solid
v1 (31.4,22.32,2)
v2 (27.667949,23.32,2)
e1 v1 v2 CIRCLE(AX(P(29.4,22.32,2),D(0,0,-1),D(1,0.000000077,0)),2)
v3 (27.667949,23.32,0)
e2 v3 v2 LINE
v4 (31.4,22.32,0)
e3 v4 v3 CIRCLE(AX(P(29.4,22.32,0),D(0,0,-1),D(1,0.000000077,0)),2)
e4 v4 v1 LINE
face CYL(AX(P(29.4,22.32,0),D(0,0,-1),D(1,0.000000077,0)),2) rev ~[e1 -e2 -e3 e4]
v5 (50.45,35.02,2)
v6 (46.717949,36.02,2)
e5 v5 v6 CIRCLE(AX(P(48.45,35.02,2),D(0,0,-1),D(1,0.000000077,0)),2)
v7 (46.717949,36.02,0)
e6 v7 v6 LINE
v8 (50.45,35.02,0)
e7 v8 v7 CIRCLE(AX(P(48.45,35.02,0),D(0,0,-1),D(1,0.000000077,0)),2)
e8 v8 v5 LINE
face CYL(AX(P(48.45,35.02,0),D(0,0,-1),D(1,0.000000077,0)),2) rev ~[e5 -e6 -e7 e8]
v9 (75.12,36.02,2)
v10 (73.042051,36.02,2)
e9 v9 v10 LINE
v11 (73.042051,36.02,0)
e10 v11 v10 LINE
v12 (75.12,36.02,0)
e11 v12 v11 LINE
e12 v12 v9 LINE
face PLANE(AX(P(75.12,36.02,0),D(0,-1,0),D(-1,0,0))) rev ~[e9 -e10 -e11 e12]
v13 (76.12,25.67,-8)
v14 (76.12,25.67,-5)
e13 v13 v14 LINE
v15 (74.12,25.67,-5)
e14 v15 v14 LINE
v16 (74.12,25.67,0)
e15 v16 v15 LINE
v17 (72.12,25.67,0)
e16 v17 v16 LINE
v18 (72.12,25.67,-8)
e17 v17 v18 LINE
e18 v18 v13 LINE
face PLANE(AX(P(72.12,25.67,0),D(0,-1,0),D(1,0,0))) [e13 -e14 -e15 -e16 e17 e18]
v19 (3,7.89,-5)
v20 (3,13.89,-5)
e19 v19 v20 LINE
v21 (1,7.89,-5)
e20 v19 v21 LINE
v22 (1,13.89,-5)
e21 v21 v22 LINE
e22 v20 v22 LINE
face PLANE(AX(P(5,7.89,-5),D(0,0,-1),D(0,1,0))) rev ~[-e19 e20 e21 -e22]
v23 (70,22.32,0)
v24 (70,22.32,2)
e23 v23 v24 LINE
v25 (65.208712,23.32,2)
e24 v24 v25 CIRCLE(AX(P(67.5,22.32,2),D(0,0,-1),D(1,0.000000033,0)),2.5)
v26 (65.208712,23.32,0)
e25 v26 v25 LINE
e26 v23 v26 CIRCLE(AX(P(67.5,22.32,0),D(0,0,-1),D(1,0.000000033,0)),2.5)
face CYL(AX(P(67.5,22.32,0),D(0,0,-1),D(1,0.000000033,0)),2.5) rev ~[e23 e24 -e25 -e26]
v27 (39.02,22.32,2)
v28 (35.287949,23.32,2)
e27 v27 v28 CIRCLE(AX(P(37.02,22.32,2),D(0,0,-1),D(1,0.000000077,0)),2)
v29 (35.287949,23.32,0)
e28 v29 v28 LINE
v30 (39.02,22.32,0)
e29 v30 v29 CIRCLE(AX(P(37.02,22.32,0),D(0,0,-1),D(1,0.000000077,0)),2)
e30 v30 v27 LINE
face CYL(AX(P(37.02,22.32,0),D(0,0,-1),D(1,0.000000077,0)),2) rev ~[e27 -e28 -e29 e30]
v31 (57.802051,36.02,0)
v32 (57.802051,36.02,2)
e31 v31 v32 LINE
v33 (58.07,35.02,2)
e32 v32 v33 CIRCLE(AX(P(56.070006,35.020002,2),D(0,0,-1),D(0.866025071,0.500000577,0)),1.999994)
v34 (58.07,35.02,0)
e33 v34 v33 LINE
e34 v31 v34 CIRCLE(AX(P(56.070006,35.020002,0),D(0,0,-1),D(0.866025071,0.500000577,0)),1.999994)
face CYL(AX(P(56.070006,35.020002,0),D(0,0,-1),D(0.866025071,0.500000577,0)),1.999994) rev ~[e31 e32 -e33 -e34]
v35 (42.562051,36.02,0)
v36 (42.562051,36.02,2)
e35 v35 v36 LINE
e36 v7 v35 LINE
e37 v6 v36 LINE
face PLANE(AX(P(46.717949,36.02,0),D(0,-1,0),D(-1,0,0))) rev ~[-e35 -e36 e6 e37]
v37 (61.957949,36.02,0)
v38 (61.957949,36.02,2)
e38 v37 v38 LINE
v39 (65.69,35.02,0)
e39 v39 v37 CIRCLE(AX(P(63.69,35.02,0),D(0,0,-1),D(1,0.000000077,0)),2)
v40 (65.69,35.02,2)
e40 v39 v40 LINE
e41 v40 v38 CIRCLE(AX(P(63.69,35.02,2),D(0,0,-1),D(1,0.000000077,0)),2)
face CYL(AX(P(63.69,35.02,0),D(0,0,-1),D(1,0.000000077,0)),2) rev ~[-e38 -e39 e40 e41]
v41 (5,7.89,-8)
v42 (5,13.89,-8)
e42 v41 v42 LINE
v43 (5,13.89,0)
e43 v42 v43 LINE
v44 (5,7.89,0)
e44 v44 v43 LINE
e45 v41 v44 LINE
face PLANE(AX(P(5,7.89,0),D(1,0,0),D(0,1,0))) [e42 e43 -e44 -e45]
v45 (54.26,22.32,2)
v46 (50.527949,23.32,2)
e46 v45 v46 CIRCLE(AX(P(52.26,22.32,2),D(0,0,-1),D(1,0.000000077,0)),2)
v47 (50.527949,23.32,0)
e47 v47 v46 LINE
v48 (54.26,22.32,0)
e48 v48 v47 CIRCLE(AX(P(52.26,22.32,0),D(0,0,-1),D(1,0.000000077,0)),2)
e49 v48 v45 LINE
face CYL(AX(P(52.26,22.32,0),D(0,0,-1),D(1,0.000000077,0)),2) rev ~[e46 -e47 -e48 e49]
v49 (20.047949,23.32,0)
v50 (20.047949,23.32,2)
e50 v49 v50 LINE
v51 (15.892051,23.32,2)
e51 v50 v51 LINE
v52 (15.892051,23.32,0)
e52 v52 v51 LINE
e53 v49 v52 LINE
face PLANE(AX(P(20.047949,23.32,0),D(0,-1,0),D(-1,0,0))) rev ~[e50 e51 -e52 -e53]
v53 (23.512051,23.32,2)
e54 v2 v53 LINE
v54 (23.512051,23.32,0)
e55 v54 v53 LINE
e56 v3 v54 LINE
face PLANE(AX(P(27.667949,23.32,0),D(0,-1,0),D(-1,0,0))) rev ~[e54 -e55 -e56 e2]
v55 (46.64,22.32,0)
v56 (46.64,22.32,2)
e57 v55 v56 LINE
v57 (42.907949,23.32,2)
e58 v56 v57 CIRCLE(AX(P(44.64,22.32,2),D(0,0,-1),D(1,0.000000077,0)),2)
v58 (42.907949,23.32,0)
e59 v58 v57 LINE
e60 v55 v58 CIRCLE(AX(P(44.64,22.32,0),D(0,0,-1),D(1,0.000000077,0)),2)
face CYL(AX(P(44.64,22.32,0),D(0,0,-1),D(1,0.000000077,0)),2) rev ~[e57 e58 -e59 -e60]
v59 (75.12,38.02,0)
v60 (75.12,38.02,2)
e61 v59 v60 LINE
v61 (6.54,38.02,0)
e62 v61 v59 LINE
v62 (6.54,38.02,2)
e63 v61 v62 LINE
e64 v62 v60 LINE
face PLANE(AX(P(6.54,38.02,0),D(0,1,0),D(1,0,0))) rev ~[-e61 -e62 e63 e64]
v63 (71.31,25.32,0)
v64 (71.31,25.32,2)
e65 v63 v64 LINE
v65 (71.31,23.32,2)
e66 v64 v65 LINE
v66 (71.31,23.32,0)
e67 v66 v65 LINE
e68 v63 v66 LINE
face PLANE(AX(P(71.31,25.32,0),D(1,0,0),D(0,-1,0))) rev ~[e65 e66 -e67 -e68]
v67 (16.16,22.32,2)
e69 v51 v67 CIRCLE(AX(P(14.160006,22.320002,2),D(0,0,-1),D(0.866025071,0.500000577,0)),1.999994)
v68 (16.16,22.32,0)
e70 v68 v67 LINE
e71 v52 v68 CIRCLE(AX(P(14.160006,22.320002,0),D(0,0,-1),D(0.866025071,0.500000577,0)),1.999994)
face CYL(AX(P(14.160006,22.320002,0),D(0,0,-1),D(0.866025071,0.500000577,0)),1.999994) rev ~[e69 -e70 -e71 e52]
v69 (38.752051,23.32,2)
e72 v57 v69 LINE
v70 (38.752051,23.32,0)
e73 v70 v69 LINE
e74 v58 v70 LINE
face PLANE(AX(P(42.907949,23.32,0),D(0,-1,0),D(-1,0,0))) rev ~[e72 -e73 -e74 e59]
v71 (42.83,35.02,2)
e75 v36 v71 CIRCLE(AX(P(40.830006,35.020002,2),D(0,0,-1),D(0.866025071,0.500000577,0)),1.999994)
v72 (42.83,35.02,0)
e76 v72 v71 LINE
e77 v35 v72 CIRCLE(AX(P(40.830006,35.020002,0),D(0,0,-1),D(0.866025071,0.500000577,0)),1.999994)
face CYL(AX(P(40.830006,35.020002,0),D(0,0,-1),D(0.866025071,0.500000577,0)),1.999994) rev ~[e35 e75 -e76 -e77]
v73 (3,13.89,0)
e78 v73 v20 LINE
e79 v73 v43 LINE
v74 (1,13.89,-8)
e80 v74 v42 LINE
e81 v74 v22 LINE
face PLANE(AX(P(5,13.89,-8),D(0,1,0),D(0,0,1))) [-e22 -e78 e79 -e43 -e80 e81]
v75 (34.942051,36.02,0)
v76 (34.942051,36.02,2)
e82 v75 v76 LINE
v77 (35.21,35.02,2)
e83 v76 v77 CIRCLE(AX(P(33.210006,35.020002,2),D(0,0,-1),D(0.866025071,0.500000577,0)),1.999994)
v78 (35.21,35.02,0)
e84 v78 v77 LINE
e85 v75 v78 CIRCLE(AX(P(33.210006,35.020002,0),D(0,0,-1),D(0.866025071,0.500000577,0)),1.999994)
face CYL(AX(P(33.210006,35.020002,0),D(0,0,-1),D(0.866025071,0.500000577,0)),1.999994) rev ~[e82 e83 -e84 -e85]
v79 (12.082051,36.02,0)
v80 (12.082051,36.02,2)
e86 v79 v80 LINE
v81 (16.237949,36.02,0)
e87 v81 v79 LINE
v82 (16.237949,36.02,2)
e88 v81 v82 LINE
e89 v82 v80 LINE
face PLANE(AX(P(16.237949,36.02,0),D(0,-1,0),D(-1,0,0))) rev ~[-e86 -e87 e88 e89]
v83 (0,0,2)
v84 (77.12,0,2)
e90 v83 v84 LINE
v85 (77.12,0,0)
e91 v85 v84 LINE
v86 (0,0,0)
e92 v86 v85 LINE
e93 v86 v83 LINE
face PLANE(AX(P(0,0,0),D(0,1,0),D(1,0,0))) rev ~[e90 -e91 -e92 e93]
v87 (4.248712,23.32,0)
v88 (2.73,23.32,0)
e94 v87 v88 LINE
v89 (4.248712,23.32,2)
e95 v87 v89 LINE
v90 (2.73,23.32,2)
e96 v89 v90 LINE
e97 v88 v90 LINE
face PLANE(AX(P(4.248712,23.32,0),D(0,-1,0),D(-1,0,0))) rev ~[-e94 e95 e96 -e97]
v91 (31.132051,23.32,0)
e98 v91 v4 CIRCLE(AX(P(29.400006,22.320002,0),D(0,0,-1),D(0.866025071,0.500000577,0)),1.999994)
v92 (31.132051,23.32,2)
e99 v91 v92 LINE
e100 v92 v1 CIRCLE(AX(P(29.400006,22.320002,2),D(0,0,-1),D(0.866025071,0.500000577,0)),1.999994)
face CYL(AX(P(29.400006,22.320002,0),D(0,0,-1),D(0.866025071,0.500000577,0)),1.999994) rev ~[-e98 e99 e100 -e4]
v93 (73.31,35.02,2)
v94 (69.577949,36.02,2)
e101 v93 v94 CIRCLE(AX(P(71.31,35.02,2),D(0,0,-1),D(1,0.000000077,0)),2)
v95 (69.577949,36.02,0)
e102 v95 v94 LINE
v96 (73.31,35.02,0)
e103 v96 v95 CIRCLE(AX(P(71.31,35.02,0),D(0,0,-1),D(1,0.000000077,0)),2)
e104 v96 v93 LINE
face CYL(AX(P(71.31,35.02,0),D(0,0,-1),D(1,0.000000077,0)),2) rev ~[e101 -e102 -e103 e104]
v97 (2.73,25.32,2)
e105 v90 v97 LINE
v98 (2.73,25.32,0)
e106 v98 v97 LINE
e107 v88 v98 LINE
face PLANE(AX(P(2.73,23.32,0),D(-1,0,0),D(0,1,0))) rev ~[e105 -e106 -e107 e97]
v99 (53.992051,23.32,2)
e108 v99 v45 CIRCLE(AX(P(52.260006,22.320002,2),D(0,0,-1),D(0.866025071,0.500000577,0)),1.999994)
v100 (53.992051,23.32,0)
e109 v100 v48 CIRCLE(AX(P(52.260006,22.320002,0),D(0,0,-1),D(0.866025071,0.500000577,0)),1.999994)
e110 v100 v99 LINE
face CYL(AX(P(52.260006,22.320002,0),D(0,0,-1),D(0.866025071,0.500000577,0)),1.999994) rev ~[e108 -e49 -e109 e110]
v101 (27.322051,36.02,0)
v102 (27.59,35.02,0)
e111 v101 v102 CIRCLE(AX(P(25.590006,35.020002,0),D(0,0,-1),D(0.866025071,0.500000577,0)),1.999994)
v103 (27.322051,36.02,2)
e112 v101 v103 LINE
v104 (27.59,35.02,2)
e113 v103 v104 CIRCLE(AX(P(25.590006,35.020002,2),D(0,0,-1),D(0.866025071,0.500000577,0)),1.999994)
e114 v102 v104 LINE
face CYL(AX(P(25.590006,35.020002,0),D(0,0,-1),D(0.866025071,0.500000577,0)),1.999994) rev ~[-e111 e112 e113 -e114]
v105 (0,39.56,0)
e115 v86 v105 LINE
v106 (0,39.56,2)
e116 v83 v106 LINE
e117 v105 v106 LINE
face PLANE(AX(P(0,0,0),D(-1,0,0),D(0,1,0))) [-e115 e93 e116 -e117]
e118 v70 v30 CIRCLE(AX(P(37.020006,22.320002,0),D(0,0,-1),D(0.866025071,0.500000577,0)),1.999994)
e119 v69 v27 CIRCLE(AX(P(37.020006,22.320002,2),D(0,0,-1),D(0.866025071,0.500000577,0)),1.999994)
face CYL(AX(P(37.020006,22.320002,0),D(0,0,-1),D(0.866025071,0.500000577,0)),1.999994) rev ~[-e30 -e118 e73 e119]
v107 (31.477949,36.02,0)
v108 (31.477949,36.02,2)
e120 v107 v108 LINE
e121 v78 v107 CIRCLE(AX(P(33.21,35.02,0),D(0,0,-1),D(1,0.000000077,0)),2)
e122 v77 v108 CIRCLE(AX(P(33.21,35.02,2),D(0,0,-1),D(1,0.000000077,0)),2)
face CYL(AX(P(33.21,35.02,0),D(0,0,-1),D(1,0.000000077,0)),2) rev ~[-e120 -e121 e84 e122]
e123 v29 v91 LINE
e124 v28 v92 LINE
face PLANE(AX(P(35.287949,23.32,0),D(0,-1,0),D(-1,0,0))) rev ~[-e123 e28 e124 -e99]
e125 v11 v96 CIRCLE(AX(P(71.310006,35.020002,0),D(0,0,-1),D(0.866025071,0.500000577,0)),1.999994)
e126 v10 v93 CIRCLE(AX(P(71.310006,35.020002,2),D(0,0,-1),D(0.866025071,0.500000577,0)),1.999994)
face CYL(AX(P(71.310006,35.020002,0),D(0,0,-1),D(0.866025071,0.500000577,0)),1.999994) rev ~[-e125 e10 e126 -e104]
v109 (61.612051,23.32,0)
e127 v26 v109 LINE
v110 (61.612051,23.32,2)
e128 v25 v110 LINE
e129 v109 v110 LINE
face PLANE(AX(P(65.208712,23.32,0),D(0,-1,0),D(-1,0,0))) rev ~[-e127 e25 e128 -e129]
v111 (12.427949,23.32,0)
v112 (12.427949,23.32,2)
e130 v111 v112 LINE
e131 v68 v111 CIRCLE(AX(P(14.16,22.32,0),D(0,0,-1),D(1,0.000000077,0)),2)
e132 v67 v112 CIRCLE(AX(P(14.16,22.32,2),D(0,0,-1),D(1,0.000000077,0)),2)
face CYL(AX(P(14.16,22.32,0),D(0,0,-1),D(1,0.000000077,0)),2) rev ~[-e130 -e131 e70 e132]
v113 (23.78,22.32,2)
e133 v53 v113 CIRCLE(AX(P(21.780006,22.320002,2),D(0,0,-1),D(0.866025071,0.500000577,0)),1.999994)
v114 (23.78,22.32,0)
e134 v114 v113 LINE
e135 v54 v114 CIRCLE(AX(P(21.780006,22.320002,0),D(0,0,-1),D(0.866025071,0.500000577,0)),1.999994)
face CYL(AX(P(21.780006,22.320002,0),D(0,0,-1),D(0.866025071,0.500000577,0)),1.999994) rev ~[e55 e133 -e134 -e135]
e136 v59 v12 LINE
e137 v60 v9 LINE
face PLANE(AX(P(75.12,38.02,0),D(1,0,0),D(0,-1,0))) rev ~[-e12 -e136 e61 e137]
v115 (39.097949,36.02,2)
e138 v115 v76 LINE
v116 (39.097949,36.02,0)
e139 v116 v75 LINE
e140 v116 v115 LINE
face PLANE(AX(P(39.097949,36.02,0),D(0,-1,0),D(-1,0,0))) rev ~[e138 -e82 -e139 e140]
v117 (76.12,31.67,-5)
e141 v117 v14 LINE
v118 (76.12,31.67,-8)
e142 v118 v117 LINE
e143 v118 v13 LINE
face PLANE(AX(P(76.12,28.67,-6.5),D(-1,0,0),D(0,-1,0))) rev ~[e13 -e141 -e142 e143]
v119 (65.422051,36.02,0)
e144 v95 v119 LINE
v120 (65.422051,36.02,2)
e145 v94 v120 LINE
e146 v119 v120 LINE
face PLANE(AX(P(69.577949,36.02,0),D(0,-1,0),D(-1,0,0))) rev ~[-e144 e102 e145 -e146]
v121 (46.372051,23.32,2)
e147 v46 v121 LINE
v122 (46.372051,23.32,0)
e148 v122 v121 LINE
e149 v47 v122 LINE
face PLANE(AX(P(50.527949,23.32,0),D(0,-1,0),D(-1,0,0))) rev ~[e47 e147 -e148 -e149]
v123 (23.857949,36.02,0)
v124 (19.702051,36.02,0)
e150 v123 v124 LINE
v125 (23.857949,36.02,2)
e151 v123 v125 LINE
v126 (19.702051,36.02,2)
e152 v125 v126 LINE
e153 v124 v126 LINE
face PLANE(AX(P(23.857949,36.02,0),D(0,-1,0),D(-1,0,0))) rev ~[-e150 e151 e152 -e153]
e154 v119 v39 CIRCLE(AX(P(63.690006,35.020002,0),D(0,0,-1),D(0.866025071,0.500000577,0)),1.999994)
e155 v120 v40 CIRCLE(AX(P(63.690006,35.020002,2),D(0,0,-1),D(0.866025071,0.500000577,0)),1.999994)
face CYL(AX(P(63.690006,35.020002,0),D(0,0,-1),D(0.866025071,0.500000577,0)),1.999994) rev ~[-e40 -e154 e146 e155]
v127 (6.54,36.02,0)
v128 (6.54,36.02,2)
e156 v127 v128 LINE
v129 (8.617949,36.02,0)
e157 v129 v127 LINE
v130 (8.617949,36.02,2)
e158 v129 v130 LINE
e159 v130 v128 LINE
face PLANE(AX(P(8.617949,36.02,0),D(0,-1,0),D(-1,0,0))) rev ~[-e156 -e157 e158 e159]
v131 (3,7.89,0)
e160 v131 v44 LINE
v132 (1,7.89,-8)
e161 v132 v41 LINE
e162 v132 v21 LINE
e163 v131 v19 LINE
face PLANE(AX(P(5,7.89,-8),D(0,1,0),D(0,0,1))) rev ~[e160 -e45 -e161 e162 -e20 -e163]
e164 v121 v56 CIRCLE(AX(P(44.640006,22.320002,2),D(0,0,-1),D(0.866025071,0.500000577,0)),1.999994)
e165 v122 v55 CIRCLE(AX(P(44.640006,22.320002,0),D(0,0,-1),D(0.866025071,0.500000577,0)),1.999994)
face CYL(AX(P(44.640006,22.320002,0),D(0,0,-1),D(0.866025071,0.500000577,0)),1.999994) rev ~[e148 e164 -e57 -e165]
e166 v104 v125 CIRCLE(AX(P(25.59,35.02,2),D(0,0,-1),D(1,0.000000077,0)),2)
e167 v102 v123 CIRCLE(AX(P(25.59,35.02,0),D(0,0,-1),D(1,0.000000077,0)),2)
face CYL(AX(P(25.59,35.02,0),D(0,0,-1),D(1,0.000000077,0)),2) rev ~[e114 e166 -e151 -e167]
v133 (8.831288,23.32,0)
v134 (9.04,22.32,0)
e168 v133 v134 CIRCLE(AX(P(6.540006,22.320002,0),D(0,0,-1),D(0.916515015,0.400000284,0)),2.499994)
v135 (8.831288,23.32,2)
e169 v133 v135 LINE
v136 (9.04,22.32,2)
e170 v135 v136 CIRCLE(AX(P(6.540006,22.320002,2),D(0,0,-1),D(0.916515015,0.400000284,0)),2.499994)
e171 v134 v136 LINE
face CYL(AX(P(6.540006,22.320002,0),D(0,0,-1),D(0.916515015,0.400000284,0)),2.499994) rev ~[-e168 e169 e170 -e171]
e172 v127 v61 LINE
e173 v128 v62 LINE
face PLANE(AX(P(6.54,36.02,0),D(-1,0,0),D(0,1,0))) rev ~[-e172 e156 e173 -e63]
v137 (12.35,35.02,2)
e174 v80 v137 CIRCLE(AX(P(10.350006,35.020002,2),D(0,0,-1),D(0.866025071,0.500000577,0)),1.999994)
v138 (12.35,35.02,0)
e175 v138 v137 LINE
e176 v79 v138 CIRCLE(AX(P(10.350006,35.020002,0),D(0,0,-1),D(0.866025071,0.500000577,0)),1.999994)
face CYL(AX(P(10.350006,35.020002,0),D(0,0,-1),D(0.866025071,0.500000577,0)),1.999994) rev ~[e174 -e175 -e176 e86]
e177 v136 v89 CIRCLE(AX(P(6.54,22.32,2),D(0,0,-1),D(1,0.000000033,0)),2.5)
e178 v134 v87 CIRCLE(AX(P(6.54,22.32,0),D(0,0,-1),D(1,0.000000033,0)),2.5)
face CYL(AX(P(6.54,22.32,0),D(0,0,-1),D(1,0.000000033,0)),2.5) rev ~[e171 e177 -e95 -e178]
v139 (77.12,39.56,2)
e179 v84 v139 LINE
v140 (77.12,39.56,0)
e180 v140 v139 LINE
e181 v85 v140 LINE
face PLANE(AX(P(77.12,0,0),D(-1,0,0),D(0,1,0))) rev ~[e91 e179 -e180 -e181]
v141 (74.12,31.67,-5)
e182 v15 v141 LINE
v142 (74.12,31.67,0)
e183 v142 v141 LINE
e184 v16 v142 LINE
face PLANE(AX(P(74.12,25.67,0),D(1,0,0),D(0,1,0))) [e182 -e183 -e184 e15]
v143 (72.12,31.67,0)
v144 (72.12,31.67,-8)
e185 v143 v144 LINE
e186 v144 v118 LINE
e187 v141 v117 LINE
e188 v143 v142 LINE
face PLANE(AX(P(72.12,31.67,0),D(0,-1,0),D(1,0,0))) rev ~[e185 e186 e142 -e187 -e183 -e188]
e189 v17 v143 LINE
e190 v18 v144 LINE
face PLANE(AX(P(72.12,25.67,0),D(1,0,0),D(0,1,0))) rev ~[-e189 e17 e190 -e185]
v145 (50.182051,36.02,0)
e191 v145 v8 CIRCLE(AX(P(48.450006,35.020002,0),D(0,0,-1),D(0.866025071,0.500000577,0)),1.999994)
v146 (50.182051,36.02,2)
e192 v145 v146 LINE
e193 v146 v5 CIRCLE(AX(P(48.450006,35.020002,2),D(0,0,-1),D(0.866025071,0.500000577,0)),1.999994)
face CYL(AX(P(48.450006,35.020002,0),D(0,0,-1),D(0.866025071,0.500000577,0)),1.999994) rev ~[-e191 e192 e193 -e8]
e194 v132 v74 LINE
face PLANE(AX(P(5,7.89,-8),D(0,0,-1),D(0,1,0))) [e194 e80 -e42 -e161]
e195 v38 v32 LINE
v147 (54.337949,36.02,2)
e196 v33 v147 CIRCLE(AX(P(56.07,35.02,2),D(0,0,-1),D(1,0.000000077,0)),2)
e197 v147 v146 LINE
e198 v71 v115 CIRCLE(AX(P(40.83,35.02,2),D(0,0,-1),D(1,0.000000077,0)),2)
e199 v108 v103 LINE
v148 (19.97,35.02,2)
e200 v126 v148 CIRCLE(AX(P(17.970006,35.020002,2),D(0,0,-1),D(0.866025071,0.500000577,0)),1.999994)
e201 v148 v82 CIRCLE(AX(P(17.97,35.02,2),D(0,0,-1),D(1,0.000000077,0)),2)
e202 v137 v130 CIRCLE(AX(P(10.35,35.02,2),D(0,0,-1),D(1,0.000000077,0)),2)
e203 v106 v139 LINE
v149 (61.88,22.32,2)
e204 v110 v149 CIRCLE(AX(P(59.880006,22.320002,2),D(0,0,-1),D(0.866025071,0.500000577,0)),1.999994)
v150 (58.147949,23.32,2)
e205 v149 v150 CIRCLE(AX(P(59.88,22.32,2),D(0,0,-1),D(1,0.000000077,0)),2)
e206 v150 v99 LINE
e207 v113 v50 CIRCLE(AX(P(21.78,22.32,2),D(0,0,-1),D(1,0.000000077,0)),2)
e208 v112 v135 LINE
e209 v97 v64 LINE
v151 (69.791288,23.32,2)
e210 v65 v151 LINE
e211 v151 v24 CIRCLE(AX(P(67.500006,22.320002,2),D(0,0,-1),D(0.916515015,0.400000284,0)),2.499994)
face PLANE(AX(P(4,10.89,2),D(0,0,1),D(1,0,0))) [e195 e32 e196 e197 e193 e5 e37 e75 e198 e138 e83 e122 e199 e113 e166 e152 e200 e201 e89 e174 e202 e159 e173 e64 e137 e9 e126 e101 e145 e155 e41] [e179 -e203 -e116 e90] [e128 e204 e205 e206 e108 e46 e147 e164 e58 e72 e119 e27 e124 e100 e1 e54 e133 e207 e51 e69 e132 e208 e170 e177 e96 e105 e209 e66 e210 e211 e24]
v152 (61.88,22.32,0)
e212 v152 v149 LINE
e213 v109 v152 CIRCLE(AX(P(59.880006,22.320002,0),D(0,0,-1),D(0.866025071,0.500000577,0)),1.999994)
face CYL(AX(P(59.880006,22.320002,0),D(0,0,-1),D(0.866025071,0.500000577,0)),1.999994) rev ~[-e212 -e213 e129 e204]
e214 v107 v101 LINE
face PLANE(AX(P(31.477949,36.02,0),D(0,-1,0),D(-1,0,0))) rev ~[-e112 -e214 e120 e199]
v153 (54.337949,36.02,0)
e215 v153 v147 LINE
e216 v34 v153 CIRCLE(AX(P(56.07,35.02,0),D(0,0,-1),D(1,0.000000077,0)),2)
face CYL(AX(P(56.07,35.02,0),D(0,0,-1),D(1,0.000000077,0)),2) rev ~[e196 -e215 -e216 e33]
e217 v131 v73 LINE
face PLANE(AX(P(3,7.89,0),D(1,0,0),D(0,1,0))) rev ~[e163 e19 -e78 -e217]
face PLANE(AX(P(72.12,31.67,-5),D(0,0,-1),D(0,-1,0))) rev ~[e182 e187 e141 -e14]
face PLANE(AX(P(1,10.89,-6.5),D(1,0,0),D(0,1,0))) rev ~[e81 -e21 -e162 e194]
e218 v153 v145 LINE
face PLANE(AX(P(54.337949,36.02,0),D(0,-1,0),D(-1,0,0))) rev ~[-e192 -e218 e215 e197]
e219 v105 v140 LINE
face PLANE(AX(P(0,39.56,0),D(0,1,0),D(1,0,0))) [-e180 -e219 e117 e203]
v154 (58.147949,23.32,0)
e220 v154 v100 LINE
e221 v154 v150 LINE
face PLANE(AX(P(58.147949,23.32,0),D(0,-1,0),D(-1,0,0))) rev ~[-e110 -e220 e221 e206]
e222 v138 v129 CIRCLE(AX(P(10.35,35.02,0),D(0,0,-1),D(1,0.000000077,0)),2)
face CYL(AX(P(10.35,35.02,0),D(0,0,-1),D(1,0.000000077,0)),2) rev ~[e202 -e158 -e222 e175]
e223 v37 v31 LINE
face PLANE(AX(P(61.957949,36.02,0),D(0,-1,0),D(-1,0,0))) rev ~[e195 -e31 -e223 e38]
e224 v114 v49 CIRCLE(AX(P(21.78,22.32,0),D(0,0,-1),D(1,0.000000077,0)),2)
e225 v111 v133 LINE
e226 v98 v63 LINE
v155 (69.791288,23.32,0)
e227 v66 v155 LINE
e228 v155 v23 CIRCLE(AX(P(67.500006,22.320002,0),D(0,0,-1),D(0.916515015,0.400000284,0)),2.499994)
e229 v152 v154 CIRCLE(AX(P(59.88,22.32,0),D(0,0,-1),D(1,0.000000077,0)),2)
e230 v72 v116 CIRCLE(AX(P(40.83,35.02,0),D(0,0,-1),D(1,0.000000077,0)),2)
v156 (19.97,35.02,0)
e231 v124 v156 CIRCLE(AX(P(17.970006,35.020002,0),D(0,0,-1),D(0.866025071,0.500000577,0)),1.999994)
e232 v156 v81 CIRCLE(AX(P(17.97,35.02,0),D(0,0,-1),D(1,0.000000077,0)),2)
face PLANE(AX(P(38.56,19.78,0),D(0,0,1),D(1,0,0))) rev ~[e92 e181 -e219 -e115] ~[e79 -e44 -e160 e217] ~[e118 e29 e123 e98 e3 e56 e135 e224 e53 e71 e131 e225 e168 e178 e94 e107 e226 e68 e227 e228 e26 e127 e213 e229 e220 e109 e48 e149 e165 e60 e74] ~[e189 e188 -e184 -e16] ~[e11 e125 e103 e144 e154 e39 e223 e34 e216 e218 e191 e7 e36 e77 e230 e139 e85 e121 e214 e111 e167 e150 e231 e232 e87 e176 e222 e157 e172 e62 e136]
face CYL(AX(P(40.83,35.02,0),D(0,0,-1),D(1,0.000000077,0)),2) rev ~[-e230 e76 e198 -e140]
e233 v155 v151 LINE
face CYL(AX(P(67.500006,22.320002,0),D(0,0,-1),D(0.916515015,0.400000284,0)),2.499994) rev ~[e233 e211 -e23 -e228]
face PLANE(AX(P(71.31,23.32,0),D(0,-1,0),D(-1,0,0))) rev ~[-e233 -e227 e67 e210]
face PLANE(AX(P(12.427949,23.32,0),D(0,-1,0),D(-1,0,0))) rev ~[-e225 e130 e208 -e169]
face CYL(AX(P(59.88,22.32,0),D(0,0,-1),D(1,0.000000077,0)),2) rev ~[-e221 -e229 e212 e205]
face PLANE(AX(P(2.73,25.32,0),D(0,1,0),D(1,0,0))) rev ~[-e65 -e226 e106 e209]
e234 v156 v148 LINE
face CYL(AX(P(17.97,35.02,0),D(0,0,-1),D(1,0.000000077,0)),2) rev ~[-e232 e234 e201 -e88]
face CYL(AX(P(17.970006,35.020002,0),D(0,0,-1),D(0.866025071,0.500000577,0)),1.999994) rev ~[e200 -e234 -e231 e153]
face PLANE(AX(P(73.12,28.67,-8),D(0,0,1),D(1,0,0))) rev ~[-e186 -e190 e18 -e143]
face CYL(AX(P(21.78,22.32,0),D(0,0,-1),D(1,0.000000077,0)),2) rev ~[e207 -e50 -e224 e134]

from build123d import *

# Parameters (mm, degrees)
F0_W          = 77.12
F0_H          = 39.56
F0_W_2        = 2
F0_H_2        = 6
F1_DEPTH      = 2
F2_DEPTH      = 8
F2_DEPTH_BACK = -2
F3_DEPTH      = 8
F3_DEPTH_BACK = -2
F4_W          = 6
F4_H          = 3
F5_DEPTH      = 4
F6_W          = 6
F6_H          = 3
F7_DEPTH      = 4


with BuildPart() as f1:
    # F0 (on Top) → F1 (new body)
    with BuildSketch(Plane.XY):
        with Locations((38.56, 19.78)):
            Rectangle(F0_W, F0_H)
        with Locations((4, 10.89)):
            Rectangle(F0_W_2, F0_H_2, mode=Mode.SUBTRACT)
        with BuildLine():
            ThreePointArc((15.892051, 23.32), (16.091852, 22.837638), (16.16, 22.32))
            ThreePointArc((16.16, 22.32), (13.642362, 20.388148), (12.427949, 23.32))
            Line((12.427949, 23.32), (8.831288, 23.32))
            ThreePointArc((8.831288, 23.32), (8.987266, 22.830774), (9.04, 22.32))
            ThreePointArc((9.04, 22.32), (6.029226, 19.872734), (4.248712, 23.32))
            Line((4.248712, 23.32), (2.73, 23.32))
            Line((2.73, 23.32), (2.73, 25.32))
            Line((2.73, 25.32), (71.31, 25.32))
            Line((71.31, 25.32), (71.31, 23.32))
            Line((71.31, 23.32), (69.791288, 23.32))
            ThreePointArc((69.791288, 23.32), (69.947266, 22.830774), (70, 22.32))
            ThreePointArc((70, 22.32), (66.989226, 19.872734), (65.208712, 23.32))
            Line((65.208712, 23.32), (61.612051, 23.32))
            ThreePointArc((61.612051, 23.32), (61.811852, 22.837638), (61.88, 22.32))
            ThreePointArc((61.88, 22.32), (59.362362, 20.388148), (58.147949, 23.32))
            Line((58.147949, 23.32), (53.992051, 23.32))
            ThreePointArc((53.992051, 23.32), (54.191852, 22.837638), (54.26, 22.32))
            ThreePointArc((54.26, 22.32), (51.742362, 20.388148), (50.527949, 23.32))
            Line((50.527949, 23.32), (46.372051, 23.32))
            ThreePointArc((46.372051, 23.32), (46.571852, 22.837638), (46.64, 22.32))
            ThreePointArc((46.64, 22.32), (44.122362, 20.388148), (42.907949, 23.32))
            Line((42.907949, 23.32), (38.752051, 23.32))
            ThreePointArc((38.752051, 23.32), (38.951852, 22.837638), (39.02, 22.32))
            ThreePointArc((39.02, 22.32), (36.502362, 20.388148), (35.287949, 23.32))
            Line((35.287949, 23.32), (31.132051, 23.32))
            ThreePointArc((31.132051, 23.32), (31.331852, 22.837638), (31.4, 22.32))
            ThreePointArc((31.4, 22.32), (28.882362, 20.388148), (27.667949, 23.32))
            Line((27.667949, 23.32), (23.512051, 23.32))
            ThreePointArc((23.512051, 23.32), (23.711852, 22.837638), (23.78, 22.32))
            ThreePointArc((23.78, 22.32), (21.262362, 20.388148), (20.047949, 23.32))
            Line((20.047949, 23.32), (15.892051, 23.32))
        make_face(mode=Mode.SUBTRACT)
        with Locations((73.12, 28.67)):
            Rectangle(F0_W_2, F0_H_2, mode=Mode.SUBTRACT)
        with BuildLine():
            ThreePointArc((12.082051, 36.02), (12.281852, 35.537638), (12.35, 35.02))
            ThreePointArc((12.35, 35.02), (9.832362, 33.088148), (8.617949, 36.02))
            Line((8.617949, 36.02), (6.54, 36.02))
            Line((6.54, 36.02), (6.54, 38.02))
            Line((6.54, 38.02), (75.12, 38.02))
            Line((75.12, 38.02), (75.12, 36.02))
            Line((75.12, 36.02), (73.042051, 36.02))
            ThreePointArc((73.042051, 36.02), (73.241852, 35.537638), (73.31, 35.02))
            ThreePointArc((73.31, 35.02), (70.792362, 33.088148), (69.577949, 36.02))
            Line((69.577949, 36.02), (65.422051, 36.02))
            ThreePointArc((65.422051, 36.02), (65.621852, 35.537638), (65.69, 35.02))
            ThreePointArc((65.69, 35.02), (63.172362, 33.088148), (61.957949, 36.02))
            Line((61.957949, 36.02), (57.802051, 36.02))
            ThreePointArc((57.802051, 36.02), (58.001852, 35.537638), (58.07, 35.02))
            ThreePointArc((58.07, 35.02), (55.552362, 33.088148), (54.337949, 36.02))
            Line((54.337949, 36.02), (50.182051, 36.02))
            ThreePointArc((50.182051, 36.02), (50.381852, 35.537638), (50.45, 35.02))
            ThreePointArc((50.45, 35.02), (47.932362, 33.088148), (46.717949, 36.02))
            Line((46.717949, 36.02), (42.562051, 36.02))
            ThreePointArc((42.562051, 36.02), (42.761852, 35.537638), (42.83, 35.02))
            ThreePointArc((42.83, 35.02), (40.312362, 33.088148), (39.097949, 36.02))
            Line((39.097949, 36.02), (34.942051, 36.02))
            ThreePointArc((34.942051, 36.02), (35.141852, 35.537638), (35.21, 35.02))
            ThreePointArc((35.21, 35.02), (32.692362, 33.088148), (31.477949, 36.02))
            Line((31.477949, 36.02), (27.322051, 36.02))
            ThreePointArc((27.322051, 36.02), (27.521852, 35.537638), (27.59, 35.02))
            ThreePointArc((27.59, 35.02), (25.072362, 33.088148), (23.857949, 36.02))
            Line((23.857949, 36.02), (19.702051, 36.02))
            ThreePointArc((19.702051, 36.02), (19.901852, 35.537638), (19.97, 35.02))
            ThreePointArc((19.97, 35.02), (17.452362, 33.088148), (16.237949, 36.02))
            Line((16.237949, 36.02), (12.082051, 36.02))
        make_face(mode=Mode.SUBTRACT)
    extrude(amount=F1_DEPTH)

    # F0 (on Top) → F2 (join, two sides)
    with BuildSketch(Plane.XY) as f2_sk:
        with Locations((73.12, 28.67)):
            Rectangle(F0_W_2, F0_H_2)
    extrude(amount=-F2_DEPTH)
    extrude(f2_sk.sketch, amount=-F2_DEPTH_BACK)

    # F0 (on Top) → F3 (join, two sides)
    with BuildSketch(Plane.XY) as f3_sk:
        with Locations((4, 10.89)):
            Rectangle(F0_W_2, F0_H_2)
    extrude(amount=-F3_DEPTH)
    extrude(f3_sk.sketch, amount=-F3_DEPTH_BACK)

    # F4 (on face) → F5 (join)
    with BuildSketch(Plane.YZ.offset(5)):
        with Locations((10.89, -6.5)):
            Rectangle(F4_W, F4_H)
    extrude(amount=-F5_DEPTH)

    # F6 (on face) → F7 (join)
    with BuildSketch(Plane(origin=(72.12, 0, 0), x_dir=(0, -1, 0), z_dir=(-1, 0, 0))):
        with Locations((-28.67, -6.5)):
            Rectangle(F6_W, F6_H)
    extrude(amount=-F7_DEPTH)


solid = f1.part
